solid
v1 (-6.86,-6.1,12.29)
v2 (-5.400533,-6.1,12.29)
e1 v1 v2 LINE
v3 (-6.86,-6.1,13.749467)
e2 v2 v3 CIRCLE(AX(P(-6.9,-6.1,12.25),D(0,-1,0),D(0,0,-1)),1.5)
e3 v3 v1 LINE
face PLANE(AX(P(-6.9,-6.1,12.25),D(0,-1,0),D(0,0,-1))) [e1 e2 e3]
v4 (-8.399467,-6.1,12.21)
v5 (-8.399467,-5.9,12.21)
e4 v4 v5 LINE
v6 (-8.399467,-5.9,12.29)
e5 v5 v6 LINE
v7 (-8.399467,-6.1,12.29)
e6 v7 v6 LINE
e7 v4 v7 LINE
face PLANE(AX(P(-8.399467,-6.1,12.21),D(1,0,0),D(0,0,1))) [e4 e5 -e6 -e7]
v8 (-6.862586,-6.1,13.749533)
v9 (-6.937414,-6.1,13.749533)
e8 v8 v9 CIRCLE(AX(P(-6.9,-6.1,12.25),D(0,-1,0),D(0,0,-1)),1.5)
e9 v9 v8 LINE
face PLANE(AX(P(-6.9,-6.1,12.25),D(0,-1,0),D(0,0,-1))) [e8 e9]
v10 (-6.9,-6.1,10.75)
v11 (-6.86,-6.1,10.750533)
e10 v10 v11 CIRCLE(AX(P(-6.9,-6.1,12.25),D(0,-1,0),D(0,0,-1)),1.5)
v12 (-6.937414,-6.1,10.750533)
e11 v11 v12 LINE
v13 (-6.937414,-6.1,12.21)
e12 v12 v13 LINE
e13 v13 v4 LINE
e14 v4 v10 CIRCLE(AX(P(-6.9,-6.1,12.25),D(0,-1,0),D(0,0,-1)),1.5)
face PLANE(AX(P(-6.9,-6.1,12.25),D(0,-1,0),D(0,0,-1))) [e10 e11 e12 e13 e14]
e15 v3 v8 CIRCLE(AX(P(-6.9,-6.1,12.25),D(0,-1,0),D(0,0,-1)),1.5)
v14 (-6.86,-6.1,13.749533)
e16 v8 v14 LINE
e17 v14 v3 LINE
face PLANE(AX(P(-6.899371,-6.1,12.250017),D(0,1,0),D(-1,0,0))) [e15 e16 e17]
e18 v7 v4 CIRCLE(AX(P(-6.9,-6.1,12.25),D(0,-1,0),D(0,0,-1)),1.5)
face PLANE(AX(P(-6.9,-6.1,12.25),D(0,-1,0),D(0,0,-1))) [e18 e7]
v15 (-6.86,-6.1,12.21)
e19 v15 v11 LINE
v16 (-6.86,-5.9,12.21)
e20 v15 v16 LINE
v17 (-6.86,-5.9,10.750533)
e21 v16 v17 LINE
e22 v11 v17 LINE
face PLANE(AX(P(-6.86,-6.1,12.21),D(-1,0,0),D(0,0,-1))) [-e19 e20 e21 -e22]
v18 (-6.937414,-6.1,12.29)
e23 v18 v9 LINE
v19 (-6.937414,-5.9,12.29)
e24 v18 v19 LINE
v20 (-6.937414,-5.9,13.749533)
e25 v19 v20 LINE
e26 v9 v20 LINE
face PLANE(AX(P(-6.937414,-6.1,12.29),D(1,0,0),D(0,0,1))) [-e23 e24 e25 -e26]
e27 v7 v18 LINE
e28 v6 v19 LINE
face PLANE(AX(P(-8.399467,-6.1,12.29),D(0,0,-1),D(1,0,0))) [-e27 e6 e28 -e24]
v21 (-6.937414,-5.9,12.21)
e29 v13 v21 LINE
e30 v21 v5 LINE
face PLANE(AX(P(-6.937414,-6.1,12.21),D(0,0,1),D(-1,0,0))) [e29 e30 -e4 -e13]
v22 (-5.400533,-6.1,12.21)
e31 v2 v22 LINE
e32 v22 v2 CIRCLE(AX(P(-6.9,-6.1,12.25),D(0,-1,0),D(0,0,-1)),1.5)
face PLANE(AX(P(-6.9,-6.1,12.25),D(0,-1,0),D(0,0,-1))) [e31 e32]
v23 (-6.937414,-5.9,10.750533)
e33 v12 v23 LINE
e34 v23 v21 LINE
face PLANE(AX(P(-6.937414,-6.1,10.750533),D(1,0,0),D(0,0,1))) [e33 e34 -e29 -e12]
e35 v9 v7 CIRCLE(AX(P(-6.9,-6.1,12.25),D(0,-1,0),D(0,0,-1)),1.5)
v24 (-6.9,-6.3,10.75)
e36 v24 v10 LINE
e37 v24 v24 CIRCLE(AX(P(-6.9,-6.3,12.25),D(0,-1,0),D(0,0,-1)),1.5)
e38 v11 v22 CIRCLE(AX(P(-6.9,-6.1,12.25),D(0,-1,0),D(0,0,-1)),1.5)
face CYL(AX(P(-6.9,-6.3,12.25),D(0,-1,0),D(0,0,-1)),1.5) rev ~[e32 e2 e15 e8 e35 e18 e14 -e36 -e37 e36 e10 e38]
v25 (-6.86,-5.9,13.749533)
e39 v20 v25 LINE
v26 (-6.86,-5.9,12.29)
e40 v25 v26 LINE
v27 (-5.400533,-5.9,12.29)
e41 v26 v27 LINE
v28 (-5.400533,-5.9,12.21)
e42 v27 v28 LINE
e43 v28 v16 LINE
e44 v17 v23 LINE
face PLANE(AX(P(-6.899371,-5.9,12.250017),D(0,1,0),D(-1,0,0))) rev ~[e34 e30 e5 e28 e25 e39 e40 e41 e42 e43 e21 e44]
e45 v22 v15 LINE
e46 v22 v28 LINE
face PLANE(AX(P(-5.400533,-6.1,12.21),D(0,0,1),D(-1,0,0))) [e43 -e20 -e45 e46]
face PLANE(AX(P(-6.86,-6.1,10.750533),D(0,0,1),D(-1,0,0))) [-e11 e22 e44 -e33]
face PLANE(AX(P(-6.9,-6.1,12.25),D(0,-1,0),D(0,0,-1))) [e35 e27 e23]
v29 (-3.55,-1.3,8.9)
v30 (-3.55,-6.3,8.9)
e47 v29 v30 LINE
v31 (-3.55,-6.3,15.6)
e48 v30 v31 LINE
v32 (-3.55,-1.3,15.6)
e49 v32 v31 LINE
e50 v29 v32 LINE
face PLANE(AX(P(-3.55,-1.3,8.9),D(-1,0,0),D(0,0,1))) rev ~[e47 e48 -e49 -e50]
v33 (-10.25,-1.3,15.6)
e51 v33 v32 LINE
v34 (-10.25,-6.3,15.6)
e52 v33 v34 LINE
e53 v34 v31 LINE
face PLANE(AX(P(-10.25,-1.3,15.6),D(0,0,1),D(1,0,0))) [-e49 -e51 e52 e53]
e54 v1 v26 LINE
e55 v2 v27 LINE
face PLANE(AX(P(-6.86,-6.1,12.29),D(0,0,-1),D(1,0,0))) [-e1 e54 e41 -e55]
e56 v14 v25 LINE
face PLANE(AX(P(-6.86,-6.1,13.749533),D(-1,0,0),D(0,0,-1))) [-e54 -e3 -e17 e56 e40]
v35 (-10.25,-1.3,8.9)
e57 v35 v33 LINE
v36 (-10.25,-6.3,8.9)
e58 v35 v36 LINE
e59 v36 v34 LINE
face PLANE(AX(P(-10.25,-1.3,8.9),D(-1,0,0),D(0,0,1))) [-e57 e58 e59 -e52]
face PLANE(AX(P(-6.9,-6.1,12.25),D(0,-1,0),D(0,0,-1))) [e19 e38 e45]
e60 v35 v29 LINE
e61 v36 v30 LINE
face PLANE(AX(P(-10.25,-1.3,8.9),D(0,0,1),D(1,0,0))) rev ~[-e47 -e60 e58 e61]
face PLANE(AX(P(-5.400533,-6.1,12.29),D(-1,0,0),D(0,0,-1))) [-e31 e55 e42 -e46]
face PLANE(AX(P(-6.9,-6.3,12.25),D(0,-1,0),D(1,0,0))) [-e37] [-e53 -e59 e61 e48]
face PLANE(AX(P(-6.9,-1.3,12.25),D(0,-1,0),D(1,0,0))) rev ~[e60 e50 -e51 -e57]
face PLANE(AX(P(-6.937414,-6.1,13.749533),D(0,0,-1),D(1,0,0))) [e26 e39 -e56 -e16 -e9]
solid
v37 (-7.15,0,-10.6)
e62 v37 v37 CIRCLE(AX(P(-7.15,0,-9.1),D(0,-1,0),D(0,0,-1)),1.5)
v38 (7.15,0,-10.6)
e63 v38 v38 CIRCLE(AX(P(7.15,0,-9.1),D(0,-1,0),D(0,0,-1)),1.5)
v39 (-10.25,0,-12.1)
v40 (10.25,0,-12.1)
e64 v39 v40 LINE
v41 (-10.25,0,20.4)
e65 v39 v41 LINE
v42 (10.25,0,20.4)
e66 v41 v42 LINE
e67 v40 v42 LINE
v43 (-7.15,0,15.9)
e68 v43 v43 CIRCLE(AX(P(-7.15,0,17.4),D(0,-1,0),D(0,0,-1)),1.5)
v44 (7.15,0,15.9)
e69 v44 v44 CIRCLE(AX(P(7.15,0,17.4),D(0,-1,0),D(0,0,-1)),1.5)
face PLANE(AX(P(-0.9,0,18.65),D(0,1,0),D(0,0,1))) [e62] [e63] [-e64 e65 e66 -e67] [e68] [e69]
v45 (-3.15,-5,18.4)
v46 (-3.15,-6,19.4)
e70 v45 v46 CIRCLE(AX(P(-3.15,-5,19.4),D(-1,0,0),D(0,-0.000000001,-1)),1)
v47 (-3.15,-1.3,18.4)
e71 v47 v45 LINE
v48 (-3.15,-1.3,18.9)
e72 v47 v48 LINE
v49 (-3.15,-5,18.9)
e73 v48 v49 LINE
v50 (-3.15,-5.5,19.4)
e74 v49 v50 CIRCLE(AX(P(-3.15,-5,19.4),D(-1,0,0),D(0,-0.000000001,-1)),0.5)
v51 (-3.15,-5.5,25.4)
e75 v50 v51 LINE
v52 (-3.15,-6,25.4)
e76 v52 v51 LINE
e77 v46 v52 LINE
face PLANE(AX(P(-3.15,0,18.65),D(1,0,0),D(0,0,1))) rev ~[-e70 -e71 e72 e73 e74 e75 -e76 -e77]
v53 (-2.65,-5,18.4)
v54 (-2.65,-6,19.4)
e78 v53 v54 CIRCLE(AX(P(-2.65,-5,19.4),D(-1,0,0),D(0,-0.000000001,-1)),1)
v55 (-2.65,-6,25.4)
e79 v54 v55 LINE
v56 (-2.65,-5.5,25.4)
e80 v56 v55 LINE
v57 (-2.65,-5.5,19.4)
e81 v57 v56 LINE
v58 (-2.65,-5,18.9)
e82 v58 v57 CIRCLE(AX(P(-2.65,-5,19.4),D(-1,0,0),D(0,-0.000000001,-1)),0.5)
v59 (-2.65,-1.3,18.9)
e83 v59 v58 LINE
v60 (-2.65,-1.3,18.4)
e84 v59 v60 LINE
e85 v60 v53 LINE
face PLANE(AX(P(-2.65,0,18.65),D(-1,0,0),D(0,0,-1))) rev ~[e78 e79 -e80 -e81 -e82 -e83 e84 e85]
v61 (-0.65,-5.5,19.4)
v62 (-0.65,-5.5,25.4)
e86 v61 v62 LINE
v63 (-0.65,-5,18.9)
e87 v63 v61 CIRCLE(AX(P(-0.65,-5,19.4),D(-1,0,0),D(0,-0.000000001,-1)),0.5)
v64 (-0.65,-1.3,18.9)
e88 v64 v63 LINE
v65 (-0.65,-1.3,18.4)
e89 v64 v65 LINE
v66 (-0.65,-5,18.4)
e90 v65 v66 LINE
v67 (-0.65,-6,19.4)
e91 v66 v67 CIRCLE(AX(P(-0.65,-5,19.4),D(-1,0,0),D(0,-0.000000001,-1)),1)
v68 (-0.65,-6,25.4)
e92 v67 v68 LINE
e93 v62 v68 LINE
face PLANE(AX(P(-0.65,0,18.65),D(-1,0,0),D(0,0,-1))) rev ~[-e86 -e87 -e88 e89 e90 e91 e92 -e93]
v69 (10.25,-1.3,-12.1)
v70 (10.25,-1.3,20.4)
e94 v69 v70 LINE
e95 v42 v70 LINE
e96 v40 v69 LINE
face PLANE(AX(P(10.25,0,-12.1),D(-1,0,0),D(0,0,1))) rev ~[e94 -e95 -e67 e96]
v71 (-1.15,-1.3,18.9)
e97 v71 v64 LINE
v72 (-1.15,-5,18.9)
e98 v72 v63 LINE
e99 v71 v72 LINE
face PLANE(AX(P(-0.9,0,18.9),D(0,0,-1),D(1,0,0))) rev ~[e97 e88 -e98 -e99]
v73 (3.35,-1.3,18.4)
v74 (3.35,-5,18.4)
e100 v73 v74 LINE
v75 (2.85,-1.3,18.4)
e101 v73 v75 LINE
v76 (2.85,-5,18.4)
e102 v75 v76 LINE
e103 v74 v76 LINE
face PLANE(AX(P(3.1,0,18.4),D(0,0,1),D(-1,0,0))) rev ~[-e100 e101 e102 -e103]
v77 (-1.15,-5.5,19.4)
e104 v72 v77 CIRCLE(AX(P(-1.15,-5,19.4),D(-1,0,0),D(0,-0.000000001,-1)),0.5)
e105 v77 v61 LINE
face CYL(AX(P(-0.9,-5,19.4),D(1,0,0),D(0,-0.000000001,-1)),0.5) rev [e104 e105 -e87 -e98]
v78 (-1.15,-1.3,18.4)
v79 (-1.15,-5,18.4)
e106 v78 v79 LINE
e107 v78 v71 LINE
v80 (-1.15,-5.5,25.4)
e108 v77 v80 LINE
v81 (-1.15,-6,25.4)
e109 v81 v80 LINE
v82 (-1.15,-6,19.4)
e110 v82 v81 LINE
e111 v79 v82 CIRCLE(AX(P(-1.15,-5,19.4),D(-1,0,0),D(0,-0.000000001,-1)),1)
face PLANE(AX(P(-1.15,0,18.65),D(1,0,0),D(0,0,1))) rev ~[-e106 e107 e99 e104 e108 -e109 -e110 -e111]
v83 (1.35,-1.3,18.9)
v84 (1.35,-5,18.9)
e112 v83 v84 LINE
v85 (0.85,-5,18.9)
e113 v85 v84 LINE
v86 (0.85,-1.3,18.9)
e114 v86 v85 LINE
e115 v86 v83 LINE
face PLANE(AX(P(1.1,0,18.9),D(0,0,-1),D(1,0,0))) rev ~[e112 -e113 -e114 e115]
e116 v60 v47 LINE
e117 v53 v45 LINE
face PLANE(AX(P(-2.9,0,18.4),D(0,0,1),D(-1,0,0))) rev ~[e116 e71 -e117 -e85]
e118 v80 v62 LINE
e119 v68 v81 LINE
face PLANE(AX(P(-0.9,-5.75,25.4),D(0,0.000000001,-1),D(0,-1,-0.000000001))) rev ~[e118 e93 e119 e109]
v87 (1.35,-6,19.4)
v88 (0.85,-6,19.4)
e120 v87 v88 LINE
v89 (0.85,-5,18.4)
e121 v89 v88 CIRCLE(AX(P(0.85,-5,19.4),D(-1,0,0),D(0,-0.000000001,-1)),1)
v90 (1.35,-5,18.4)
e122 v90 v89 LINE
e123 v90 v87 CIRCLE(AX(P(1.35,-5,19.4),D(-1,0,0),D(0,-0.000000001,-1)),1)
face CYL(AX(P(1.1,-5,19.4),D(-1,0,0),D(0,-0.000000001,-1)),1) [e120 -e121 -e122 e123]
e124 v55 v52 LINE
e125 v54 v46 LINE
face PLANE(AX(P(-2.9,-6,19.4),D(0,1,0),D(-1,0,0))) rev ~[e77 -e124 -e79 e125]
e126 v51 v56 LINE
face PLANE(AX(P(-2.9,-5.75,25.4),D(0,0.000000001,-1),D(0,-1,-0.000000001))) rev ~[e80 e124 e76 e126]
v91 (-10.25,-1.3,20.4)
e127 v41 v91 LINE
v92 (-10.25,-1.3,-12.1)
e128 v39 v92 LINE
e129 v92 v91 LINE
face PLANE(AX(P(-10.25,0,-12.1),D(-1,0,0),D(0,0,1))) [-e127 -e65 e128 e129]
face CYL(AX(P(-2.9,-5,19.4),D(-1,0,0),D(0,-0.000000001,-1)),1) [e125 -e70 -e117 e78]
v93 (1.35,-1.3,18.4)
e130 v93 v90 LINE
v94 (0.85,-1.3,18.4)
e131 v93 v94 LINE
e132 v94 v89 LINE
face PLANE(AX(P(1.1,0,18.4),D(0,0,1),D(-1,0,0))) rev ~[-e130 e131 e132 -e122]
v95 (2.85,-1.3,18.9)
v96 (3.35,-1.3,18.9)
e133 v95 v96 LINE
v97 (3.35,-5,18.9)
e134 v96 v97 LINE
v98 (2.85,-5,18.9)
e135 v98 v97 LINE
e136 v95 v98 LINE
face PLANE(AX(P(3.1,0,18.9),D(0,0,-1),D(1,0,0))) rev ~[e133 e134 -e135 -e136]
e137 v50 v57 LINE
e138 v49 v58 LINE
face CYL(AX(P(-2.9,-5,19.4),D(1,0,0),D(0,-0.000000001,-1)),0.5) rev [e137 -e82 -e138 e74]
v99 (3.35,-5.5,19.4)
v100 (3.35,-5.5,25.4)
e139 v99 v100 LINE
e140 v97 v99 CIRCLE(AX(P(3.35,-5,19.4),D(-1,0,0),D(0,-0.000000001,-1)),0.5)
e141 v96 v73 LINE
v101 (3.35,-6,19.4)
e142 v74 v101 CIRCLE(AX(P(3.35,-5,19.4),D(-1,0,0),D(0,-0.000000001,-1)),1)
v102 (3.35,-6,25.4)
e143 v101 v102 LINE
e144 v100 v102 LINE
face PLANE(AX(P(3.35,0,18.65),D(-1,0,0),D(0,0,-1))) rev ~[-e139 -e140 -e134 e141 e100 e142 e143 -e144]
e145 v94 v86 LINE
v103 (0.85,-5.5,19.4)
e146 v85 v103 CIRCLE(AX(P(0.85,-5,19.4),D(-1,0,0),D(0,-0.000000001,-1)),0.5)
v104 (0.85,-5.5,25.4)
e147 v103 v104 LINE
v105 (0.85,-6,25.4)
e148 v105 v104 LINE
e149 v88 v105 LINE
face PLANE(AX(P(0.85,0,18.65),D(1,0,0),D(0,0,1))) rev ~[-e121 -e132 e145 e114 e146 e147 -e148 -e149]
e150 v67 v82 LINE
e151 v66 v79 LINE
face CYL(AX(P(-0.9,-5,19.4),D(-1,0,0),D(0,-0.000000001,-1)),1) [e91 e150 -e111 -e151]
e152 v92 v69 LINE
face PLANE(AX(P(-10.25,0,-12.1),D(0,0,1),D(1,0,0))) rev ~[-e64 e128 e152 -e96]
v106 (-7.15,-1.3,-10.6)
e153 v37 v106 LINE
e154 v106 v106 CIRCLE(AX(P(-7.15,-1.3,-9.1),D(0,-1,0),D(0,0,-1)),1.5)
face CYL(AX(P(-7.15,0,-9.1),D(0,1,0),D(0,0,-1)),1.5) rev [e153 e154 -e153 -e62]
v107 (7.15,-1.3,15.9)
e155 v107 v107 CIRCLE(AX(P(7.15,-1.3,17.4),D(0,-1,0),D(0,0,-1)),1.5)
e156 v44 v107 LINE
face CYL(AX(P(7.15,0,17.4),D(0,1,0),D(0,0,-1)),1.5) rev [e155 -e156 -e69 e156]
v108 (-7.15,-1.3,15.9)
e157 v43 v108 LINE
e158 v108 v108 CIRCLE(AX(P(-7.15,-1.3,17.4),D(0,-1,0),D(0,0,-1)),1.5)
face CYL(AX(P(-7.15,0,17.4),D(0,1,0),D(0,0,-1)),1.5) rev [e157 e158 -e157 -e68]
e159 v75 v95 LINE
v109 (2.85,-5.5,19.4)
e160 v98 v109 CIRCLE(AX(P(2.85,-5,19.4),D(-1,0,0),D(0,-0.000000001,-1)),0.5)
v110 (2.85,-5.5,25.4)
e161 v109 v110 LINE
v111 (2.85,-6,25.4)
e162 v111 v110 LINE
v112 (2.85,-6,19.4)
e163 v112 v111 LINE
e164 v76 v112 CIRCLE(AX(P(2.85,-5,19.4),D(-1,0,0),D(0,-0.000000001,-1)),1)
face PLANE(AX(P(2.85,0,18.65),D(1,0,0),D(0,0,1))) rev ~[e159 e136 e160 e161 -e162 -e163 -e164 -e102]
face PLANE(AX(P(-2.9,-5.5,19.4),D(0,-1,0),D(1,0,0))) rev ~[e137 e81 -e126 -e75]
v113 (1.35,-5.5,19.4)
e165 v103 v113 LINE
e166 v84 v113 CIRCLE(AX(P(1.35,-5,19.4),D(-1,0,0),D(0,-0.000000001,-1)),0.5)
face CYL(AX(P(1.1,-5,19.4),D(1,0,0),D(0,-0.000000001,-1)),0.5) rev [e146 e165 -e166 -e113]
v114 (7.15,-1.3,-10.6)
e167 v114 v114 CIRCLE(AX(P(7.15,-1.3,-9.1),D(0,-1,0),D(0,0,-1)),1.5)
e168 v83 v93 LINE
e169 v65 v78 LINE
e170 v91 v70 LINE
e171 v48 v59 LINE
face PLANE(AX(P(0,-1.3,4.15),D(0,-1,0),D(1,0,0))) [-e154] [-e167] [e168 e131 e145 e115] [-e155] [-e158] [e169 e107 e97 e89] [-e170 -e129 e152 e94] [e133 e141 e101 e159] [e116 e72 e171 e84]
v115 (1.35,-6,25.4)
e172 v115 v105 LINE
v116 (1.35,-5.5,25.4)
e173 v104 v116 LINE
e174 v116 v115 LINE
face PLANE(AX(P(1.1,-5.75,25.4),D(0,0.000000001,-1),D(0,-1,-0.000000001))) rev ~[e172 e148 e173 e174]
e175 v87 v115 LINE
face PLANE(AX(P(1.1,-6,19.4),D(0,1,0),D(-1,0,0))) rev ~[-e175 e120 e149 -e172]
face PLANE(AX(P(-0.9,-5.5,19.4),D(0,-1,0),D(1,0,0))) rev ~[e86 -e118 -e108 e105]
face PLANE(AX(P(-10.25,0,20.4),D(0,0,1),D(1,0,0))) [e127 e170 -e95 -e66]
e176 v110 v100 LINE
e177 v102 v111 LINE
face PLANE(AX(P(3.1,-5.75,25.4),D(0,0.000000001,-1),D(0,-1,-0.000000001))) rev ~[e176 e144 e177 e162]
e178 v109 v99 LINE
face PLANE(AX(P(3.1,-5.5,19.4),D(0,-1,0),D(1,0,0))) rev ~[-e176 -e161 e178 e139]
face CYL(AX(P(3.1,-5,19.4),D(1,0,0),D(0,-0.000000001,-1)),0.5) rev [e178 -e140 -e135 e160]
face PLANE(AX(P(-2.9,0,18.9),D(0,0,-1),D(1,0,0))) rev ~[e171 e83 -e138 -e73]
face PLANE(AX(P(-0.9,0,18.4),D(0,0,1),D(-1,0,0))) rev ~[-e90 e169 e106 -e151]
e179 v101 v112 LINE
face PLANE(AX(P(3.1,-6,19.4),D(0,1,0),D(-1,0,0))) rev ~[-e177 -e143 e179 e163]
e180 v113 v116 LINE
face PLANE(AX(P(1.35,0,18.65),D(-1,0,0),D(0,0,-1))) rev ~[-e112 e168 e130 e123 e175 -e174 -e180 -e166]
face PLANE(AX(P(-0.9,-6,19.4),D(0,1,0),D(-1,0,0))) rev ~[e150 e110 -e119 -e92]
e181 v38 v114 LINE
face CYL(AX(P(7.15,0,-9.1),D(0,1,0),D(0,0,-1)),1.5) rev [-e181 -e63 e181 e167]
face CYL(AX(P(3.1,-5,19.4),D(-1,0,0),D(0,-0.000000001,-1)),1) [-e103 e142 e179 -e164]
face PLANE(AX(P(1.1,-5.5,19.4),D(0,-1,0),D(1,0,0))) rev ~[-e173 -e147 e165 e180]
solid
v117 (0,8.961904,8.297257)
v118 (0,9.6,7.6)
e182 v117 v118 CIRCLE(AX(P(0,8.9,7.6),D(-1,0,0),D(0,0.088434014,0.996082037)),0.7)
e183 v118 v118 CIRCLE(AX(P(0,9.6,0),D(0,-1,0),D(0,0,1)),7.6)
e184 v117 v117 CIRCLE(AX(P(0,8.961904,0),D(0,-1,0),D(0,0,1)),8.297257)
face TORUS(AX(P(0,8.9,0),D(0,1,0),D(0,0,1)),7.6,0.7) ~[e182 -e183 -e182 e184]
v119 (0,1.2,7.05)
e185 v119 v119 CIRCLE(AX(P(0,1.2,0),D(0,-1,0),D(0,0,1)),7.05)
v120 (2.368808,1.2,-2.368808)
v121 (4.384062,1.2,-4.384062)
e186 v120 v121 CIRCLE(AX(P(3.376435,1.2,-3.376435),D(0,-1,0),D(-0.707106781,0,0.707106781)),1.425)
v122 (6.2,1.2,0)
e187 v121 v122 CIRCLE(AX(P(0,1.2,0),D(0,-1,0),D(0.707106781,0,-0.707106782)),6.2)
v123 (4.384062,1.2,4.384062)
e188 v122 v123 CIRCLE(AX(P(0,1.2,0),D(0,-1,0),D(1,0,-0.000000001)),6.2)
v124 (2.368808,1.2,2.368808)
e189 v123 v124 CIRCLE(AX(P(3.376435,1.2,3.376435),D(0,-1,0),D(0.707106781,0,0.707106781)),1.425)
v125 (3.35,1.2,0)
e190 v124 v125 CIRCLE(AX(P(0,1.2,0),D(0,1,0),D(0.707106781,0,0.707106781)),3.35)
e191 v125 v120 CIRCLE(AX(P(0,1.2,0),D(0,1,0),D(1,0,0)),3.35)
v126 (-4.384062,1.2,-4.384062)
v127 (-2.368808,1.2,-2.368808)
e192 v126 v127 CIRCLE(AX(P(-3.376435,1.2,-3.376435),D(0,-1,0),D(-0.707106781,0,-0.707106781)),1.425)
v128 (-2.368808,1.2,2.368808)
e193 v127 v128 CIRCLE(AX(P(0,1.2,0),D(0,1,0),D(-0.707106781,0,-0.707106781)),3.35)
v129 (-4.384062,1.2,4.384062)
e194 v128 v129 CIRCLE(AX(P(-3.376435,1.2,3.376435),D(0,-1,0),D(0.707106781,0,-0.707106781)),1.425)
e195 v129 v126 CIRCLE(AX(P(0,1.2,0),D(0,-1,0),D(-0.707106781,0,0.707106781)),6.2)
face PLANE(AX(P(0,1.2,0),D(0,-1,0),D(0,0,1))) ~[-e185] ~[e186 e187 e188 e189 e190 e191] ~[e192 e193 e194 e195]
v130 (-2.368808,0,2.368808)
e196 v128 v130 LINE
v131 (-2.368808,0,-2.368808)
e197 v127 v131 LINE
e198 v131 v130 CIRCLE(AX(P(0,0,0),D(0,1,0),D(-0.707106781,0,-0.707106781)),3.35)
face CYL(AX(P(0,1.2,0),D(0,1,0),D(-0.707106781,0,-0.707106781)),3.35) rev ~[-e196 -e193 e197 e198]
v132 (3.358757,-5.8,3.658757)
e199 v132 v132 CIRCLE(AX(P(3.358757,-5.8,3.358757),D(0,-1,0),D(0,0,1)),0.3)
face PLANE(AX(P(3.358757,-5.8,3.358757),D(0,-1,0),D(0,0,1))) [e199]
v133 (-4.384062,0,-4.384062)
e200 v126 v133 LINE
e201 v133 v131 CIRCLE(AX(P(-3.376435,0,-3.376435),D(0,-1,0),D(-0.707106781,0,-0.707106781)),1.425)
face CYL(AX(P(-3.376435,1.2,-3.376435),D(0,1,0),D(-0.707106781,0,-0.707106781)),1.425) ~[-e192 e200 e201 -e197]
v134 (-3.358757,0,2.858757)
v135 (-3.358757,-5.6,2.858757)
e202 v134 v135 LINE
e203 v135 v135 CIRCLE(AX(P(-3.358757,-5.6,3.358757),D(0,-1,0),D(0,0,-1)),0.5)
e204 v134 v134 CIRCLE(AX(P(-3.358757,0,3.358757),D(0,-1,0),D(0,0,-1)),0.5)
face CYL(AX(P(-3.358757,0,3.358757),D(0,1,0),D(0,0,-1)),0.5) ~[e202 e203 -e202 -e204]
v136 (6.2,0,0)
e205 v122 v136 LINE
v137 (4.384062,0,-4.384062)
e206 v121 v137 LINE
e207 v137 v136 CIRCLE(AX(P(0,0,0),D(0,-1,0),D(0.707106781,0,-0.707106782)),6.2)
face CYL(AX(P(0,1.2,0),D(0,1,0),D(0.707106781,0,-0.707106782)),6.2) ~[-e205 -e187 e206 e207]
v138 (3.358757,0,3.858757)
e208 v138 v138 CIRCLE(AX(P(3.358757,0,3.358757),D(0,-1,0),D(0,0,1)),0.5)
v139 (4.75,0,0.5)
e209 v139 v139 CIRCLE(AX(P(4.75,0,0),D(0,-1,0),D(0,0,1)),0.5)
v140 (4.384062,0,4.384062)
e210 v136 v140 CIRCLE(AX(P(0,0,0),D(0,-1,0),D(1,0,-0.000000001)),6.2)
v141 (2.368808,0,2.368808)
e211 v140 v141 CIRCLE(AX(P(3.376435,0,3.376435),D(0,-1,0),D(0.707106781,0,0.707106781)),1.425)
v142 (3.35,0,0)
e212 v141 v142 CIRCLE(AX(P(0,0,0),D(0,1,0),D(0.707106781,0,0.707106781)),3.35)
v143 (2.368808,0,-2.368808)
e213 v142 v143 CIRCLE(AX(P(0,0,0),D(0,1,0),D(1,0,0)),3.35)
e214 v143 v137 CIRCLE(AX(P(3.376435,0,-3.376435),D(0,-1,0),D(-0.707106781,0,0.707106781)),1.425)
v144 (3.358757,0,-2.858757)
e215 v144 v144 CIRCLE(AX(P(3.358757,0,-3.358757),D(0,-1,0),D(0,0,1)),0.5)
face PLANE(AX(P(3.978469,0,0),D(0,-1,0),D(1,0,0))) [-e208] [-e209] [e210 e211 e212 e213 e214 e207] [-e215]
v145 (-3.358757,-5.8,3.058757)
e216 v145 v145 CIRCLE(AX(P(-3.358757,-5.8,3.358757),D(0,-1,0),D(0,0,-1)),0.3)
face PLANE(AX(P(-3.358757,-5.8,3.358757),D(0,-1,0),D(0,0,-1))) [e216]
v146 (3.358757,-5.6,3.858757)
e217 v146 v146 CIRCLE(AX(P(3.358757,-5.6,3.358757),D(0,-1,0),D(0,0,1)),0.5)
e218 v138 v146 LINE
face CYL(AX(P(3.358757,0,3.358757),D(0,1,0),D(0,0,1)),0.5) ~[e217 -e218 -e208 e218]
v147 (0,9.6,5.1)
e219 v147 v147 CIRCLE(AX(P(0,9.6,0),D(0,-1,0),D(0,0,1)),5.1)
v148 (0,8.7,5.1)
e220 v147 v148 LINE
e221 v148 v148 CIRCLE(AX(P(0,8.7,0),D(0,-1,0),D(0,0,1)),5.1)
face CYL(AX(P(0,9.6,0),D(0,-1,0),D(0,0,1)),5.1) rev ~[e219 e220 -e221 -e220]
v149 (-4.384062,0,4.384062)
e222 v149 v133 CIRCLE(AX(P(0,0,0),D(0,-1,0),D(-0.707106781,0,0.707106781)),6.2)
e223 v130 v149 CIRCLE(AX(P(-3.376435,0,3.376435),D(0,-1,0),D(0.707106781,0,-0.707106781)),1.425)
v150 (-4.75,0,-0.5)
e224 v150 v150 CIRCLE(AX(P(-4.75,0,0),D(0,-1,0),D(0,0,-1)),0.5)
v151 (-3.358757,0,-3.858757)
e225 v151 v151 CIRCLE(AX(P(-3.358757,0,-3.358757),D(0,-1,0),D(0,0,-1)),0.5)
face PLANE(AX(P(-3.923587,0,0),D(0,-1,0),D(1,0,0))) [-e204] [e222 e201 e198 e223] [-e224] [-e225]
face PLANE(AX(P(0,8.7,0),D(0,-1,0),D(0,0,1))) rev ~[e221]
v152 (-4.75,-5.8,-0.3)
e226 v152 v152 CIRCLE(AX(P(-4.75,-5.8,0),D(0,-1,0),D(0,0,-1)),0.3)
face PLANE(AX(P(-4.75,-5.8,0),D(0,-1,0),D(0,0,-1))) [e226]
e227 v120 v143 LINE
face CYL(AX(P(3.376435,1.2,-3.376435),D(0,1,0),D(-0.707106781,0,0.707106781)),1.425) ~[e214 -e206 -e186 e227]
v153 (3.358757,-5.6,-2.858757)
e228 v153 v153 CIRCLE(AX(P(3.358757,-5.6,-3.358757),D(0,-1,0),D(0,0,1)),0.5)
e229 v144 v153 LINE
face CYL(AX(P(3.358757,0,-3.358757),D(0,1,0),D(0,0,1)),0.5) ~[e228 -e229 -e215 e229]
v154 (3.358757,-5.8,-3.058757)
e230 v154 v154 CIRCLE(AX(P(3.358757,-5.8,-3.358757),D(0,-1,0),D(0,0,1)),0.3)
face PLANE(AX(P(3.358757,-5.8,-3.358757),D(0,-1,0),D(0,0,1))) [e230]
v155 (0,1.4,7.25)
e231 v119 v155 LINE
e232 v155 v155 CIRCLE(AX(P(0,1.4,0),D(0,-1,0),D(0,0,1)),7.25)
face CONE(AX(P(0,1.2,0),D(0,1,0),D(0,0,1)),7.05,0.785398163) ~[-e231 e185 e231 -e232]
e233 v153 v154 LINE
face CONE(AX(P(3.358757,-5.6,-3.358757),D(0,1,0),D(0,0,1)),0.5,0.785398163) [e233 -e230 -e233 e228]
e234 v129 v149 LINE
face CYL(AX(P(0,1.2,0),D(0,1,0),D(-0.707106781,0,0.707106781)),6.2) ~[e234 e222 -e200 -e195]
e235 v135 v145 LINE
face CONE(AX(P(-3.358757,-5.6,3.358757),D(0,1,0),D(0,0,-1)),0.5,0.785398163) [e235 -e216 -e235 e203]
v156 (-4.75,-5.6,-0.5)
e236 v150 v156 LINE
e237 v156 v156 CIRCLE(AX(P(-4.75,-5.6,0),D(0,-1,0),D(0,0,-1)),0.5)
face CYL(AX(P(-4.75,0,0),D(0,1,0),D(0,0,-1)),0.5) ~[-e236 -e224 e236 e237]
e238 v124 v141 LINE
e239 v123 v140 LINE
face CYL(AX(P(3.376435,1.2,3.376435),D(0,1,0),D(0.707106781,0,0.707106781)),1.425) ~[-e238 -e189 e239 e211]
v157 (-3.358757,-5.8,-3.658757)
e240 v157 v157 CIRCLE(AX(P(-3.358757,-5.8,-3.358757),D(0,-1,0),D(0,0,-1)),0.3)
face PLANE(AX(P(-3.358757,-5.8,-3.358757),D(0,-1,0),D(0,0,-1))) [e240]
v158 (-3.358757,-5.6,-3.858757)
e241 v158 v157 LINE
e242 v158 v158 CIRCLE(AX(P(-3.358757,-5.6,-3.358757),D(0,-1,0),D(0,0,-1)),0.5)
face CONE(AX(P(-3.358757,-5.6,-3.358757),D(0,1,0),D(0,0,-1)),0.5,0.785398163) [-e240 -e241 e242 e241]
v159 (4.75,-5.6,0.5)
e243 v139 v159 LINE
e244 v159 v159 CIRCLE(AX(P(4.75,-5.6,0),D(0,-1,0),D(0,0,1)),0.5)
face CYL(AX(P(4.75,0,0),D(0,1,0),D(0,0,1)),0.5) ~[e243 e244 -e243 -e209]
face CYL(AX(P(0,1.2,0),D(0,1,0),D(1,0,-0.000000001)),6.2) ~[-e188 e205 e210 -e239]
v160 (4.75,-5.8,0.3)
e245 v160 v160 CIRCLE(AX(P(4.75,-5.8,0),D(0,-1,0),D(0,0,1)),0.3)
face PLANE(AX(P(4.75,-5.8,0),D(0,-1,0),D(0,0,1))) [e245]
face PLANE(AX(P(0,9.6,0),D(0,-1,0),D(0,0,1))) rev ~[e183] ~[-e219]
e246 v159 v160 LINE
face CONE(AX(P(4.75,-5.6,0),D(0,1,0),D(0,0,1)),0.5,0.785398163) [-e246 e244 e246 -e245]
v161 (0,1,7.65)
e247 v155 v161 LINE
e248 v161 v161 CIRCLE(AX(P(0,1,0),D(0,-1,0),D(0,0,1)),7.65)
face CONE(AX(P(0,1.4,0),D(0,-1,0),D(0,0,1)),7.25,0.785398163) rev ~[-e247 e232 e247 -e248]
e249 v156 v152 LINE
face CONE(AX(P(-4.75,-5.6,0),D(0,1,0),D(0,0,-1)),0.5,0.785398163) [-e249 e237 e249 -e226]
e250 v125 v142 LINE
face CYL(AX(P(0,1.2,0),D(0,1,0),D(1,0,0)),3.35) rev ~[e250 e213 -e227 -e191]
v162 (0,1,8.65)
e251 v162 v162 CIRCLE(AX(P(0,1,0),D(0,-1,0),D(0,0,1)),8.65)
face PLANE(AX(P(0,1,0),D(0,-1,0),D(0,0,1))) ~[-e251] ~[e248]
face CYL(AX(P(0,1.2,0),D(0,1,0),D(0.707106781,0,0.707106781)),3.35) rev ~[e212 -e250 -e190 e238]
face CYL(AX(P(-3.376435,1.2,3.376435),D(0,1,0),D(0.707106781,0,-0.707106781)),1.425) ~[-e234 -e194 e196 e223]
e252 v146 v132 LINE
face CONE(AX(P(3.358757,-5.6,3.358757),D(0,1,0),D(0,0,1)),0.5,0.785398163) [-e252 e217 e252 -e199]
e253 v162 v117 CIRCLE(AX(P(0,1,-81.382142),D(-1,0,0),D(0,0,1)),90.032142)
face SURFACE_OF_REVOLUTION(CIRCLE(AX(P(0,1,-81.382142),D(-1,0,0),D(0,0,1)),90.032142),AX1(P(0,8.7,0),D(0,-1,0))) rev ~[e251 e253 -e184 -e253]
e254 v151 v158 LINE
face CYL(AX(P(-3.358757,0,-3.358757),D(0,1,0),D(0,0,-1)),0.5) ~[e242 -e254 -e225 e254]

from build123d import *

# Parameters (mm, degrees)
EXTRUDE_1_DEPTH     = 1.2
SKETCH_3_R          = 0.5
EXTRUDE_2_DEPTH     = 5.8
CHAMFER_1_SIZE      = 0.2
SKETCH1_W           = 20.5
SKETCH1_H           = 32.5
SKETCH1_R           = 1.5
BOSS_EXTRUDE1_DEPTH = 1.3
SKETCH2_W           = 6.7
SKETCH2_H           = 6.7
BOSS_EXTRUDE2_DEPTH = 5
SKETCH3_W           = 0.5
SKETCH3_H           = 0.5
SKETCH5_R           = 1.5
CUT_EXTRUDE1_DEPTH  = 0.2
CUT_EXTRUDE2_DEPTH  = 0.2


with BuildPart() as part:
    # Эскиз1 → Повернуть1 (revolve)
    with BuildSketch(Plane(origin=(0, 0, 0), x_dir=(0, 0, -1), z_dir=(1, 0, 0))):
        with BuildLine():
            Line((0, 1.2), (-7.05, 1.2))
            Line((-7.05, 1.2), (-7.25, 1.4))
            Line((-7.25, 1.4), (-7.65, 1))
            Line((-7.65, 1), (-8.65, 1))
            ThreePointArc((-8.65, 1), (-8.561771126, 4.984856949), (-8.297257426, 8.96190381))
            ThreePointArc((-8.297257426, 8.96190381), (-8.072581915, 9.416397457), (-7.6, 9.6))
            Line((-7.6, 9.6), (-5.1, 9.6))
            Line((-5.1, 9.6), (-5.1, 8.7))
            Line((-5.1, 8.7), (0, 8.7))
            Line((0, 8.7), (0, 1.2))
        make_face()
    revolve(axis=Axis((0, 8.7, 0), (0, -1, 0)))

    # Эскиз2 → Бобышка-Вытянуть1 (add)
    with BuildSketch(Plane.XZ.offset(-1.2)):
        with BuildLine():
            ThreePointArc((-2.368807717, 2.368807717), (-2.368807717, 4.384062043), (-4.384062043, 4.384062043))
            ThreePointArc((-4.384062043, 4.384062043), (-6.2, 0), (-4.384062043, -4.384062043))
            ThreePointArc((-4.384062043, -4.384062043), (-2.368807717, -4.384062043), (-2.368807717, -2.368807717))
            ThreePointArc((-2.368807717, -2.368807717), (-3.35, 0), (-2.368807717, 2.368807717))
        make_face()
        with BuildLine():
            ThreePointArc((4.384062043, -4.384062043), (5.728053102, -2.372637281), (6.2, 0))
            ThreePointArc((6.2, 0), (5.728053102, 2.372637281), (4.384062043, 4.384062043))
            ThreePointArc((4.384062043, 4.384062043), (2.368807717, 4.384062043), (2.368807717, 2.368807717))
            ThreePointArc((2.368807717, 2.368807717), (3.094996434, 1.281989498), (3.35, 0))
            ThreePointArc((3.35, 0), (3.094996434, -1.281989498), (2.368807717, -2.368807717))
            ThreePointArc((2.368807717, -2.368807717), (2.368807717, -4.384062043), (4.384062043, -4.384062043))
        make_face()
    extrude(amount=EXTRUDE_1_DEPTH)

    # Эскиз3 → Бобышка-Вытянуть2 (add)
    with BuildSketch(Plane.XZ):
        with Locations(Location((-4.75, 0, 0), (0, 0, 270))):
            Circle(SKETCH_3_R)
        with Locations(Location((-3.358757211, 3.358757211, 0), (0, 0, 270))):
            Circle(SKETCH_3_R)
        with Locations(Location((-3.358757211, -3.358757211, 0), (0, 0, 270))):
            Circle(SKETCH_3_R)
        with Locations(Location((3.358757211, 3.358757211, 0), (0, 0, 90))):
            Circle(SKETCH_3_R)
        with Locations(Location((4.75, 0, 0), (0, 0, 90))):
            Circle(SKETCH_3_R)
        with Locations(Location((3.358757211, -3.358757211, 0), (0, 0, 90))):
            Circle(SKETCH_3_R)
    extrude(amount=EXTRUDE_2_DEPTH)

    # Фаска1
    chamfer_1_edges = [part.edges().sort_by_distance(p)[0] for p in [
        (-4.75, -5.8, 0.5),
        (-3.358757211, -5.8, 3.858757211),
        (-3.358757211, -5.8, -2.858757211),
        (3.358757211, -5.8, 2.858757211),
        (4.75, -5.8, -0.5),
        (3.358757211, -5.8, -3.858757211),
    ]]
    chamfer(chamfer_1_edges, length=CHAMFER_1_SIZE)


with BuildPart() as body_2:
    # Sketch1 → Boss-Extrude1 (new body)
    with BuildSketch(Plane.XZ):
        with Locations((0, 4.15)):
            Rectangle(SKETCH1_W, SKETCH1_H)
        with Locations(Location((-7.15, 17.4, 0), (0, 0, 270))):
            Circle(SKETCH1_R, mode=Mode.SUBTRACT)
        with Locations(Location((7.15, 17.4, 0), (0, 0, 270))):
            Circle(SKETCH1_R, mode=Mode.SUBTRACT)
        with Locations(Location((7.15, -9.1, 0), (0, 0, 270))):
            Circle(SKETCH1_R, mode=Mode.SUBTRACT)
        with Locations(Location((-7.15, -9.1, 0), (0, 0, 270))):
            Circle(SKETCH1_R, mode=Mode.SUBTRACT)
    extrude(amount=BOSS_EXTRUDE1_DEPTH)

    # Sweep1: sweep along a path in Sketch4
    with BuildLine(Plane.ZY.offset(10.25)) as sweep1_path:
        Line((18.4, 0), (18.4, -5))
        ThreePointArc((18.4, -5), (18.692893219, -5.707106781), (19.4, -6))
        Line((19.4, -6), (25.4, -6))
    # Sketch3 → Sweep1 (sweep)
    with BuildSketch(Plane(origin=(0, 0, 0), x_dir=(1, 0, 0), z_dir=(0, 1, 0))):
        with Locations((-0.9, -18.65)):
            Rectangle(SKETCH3_W, SKETCH3_H)
        with Locations((-2.9, -18.65)):
            Rectangle(SKETCH3_W, SKETCH3_H)
        with Locations((1.1, -18.65)):
            Rectangle(SKETCH3_W, SKETCH3_H)
        with Locations((3.1, -18.65)):
            Rectangle(SKETCH3_W, SKETCH3_H)
    sweep(path=sweep1_path.line)


with BuildPart() as body_3:
    # Sketch2 → Boss-Extrude2 (new body)
    with BuildSketch(Plane.XZ.offset(1.3)):
        with Locations((-6.9, 12.25)):
            Rectangle(SKETCH2_W, SKETCH2_H)
    extrude(amount=BOSS_EXTRUDE2_DEPTH)

    # Sketch5 → Cut-Extrude1 (cut)
    with BuildSketch(Plane.XZ.offset(6.3)):
        with Locations(Location((-6.9, 12.25, 0), (0, 0, 270))):
            Circle(SKETCH5_R)
    extrude(amount=-CUT_EXTRUDE1_DEPTH, mode=Mode.SUBTRACT)

    # Sketch6 → Cut-Extrude2 (cut)
    with BuildSketch(Plane.XZ.offset(6.1)):
        Polygon((-6.86, 12.21), (-6.86, 10.750533428), (-6.937413609, 10.750533428), (-6.937413609, 12.21), (-8.399466572, 12.21), (-8.399466572, 12.29), (-6.937413609, 12.29), (-6.937413609, 13.749533335), (-6.86, 13.749533335), (-6.86, 12.29), (-5.400533428, 12.29), (-5.400533428, 12.21), align=None)
    extrude(amount=-CUT_EXTRUDE2_DEPTH, mode=Mode.SUBTRACT)


solid = Compound([part.part, body_2.part, body_3.part])
